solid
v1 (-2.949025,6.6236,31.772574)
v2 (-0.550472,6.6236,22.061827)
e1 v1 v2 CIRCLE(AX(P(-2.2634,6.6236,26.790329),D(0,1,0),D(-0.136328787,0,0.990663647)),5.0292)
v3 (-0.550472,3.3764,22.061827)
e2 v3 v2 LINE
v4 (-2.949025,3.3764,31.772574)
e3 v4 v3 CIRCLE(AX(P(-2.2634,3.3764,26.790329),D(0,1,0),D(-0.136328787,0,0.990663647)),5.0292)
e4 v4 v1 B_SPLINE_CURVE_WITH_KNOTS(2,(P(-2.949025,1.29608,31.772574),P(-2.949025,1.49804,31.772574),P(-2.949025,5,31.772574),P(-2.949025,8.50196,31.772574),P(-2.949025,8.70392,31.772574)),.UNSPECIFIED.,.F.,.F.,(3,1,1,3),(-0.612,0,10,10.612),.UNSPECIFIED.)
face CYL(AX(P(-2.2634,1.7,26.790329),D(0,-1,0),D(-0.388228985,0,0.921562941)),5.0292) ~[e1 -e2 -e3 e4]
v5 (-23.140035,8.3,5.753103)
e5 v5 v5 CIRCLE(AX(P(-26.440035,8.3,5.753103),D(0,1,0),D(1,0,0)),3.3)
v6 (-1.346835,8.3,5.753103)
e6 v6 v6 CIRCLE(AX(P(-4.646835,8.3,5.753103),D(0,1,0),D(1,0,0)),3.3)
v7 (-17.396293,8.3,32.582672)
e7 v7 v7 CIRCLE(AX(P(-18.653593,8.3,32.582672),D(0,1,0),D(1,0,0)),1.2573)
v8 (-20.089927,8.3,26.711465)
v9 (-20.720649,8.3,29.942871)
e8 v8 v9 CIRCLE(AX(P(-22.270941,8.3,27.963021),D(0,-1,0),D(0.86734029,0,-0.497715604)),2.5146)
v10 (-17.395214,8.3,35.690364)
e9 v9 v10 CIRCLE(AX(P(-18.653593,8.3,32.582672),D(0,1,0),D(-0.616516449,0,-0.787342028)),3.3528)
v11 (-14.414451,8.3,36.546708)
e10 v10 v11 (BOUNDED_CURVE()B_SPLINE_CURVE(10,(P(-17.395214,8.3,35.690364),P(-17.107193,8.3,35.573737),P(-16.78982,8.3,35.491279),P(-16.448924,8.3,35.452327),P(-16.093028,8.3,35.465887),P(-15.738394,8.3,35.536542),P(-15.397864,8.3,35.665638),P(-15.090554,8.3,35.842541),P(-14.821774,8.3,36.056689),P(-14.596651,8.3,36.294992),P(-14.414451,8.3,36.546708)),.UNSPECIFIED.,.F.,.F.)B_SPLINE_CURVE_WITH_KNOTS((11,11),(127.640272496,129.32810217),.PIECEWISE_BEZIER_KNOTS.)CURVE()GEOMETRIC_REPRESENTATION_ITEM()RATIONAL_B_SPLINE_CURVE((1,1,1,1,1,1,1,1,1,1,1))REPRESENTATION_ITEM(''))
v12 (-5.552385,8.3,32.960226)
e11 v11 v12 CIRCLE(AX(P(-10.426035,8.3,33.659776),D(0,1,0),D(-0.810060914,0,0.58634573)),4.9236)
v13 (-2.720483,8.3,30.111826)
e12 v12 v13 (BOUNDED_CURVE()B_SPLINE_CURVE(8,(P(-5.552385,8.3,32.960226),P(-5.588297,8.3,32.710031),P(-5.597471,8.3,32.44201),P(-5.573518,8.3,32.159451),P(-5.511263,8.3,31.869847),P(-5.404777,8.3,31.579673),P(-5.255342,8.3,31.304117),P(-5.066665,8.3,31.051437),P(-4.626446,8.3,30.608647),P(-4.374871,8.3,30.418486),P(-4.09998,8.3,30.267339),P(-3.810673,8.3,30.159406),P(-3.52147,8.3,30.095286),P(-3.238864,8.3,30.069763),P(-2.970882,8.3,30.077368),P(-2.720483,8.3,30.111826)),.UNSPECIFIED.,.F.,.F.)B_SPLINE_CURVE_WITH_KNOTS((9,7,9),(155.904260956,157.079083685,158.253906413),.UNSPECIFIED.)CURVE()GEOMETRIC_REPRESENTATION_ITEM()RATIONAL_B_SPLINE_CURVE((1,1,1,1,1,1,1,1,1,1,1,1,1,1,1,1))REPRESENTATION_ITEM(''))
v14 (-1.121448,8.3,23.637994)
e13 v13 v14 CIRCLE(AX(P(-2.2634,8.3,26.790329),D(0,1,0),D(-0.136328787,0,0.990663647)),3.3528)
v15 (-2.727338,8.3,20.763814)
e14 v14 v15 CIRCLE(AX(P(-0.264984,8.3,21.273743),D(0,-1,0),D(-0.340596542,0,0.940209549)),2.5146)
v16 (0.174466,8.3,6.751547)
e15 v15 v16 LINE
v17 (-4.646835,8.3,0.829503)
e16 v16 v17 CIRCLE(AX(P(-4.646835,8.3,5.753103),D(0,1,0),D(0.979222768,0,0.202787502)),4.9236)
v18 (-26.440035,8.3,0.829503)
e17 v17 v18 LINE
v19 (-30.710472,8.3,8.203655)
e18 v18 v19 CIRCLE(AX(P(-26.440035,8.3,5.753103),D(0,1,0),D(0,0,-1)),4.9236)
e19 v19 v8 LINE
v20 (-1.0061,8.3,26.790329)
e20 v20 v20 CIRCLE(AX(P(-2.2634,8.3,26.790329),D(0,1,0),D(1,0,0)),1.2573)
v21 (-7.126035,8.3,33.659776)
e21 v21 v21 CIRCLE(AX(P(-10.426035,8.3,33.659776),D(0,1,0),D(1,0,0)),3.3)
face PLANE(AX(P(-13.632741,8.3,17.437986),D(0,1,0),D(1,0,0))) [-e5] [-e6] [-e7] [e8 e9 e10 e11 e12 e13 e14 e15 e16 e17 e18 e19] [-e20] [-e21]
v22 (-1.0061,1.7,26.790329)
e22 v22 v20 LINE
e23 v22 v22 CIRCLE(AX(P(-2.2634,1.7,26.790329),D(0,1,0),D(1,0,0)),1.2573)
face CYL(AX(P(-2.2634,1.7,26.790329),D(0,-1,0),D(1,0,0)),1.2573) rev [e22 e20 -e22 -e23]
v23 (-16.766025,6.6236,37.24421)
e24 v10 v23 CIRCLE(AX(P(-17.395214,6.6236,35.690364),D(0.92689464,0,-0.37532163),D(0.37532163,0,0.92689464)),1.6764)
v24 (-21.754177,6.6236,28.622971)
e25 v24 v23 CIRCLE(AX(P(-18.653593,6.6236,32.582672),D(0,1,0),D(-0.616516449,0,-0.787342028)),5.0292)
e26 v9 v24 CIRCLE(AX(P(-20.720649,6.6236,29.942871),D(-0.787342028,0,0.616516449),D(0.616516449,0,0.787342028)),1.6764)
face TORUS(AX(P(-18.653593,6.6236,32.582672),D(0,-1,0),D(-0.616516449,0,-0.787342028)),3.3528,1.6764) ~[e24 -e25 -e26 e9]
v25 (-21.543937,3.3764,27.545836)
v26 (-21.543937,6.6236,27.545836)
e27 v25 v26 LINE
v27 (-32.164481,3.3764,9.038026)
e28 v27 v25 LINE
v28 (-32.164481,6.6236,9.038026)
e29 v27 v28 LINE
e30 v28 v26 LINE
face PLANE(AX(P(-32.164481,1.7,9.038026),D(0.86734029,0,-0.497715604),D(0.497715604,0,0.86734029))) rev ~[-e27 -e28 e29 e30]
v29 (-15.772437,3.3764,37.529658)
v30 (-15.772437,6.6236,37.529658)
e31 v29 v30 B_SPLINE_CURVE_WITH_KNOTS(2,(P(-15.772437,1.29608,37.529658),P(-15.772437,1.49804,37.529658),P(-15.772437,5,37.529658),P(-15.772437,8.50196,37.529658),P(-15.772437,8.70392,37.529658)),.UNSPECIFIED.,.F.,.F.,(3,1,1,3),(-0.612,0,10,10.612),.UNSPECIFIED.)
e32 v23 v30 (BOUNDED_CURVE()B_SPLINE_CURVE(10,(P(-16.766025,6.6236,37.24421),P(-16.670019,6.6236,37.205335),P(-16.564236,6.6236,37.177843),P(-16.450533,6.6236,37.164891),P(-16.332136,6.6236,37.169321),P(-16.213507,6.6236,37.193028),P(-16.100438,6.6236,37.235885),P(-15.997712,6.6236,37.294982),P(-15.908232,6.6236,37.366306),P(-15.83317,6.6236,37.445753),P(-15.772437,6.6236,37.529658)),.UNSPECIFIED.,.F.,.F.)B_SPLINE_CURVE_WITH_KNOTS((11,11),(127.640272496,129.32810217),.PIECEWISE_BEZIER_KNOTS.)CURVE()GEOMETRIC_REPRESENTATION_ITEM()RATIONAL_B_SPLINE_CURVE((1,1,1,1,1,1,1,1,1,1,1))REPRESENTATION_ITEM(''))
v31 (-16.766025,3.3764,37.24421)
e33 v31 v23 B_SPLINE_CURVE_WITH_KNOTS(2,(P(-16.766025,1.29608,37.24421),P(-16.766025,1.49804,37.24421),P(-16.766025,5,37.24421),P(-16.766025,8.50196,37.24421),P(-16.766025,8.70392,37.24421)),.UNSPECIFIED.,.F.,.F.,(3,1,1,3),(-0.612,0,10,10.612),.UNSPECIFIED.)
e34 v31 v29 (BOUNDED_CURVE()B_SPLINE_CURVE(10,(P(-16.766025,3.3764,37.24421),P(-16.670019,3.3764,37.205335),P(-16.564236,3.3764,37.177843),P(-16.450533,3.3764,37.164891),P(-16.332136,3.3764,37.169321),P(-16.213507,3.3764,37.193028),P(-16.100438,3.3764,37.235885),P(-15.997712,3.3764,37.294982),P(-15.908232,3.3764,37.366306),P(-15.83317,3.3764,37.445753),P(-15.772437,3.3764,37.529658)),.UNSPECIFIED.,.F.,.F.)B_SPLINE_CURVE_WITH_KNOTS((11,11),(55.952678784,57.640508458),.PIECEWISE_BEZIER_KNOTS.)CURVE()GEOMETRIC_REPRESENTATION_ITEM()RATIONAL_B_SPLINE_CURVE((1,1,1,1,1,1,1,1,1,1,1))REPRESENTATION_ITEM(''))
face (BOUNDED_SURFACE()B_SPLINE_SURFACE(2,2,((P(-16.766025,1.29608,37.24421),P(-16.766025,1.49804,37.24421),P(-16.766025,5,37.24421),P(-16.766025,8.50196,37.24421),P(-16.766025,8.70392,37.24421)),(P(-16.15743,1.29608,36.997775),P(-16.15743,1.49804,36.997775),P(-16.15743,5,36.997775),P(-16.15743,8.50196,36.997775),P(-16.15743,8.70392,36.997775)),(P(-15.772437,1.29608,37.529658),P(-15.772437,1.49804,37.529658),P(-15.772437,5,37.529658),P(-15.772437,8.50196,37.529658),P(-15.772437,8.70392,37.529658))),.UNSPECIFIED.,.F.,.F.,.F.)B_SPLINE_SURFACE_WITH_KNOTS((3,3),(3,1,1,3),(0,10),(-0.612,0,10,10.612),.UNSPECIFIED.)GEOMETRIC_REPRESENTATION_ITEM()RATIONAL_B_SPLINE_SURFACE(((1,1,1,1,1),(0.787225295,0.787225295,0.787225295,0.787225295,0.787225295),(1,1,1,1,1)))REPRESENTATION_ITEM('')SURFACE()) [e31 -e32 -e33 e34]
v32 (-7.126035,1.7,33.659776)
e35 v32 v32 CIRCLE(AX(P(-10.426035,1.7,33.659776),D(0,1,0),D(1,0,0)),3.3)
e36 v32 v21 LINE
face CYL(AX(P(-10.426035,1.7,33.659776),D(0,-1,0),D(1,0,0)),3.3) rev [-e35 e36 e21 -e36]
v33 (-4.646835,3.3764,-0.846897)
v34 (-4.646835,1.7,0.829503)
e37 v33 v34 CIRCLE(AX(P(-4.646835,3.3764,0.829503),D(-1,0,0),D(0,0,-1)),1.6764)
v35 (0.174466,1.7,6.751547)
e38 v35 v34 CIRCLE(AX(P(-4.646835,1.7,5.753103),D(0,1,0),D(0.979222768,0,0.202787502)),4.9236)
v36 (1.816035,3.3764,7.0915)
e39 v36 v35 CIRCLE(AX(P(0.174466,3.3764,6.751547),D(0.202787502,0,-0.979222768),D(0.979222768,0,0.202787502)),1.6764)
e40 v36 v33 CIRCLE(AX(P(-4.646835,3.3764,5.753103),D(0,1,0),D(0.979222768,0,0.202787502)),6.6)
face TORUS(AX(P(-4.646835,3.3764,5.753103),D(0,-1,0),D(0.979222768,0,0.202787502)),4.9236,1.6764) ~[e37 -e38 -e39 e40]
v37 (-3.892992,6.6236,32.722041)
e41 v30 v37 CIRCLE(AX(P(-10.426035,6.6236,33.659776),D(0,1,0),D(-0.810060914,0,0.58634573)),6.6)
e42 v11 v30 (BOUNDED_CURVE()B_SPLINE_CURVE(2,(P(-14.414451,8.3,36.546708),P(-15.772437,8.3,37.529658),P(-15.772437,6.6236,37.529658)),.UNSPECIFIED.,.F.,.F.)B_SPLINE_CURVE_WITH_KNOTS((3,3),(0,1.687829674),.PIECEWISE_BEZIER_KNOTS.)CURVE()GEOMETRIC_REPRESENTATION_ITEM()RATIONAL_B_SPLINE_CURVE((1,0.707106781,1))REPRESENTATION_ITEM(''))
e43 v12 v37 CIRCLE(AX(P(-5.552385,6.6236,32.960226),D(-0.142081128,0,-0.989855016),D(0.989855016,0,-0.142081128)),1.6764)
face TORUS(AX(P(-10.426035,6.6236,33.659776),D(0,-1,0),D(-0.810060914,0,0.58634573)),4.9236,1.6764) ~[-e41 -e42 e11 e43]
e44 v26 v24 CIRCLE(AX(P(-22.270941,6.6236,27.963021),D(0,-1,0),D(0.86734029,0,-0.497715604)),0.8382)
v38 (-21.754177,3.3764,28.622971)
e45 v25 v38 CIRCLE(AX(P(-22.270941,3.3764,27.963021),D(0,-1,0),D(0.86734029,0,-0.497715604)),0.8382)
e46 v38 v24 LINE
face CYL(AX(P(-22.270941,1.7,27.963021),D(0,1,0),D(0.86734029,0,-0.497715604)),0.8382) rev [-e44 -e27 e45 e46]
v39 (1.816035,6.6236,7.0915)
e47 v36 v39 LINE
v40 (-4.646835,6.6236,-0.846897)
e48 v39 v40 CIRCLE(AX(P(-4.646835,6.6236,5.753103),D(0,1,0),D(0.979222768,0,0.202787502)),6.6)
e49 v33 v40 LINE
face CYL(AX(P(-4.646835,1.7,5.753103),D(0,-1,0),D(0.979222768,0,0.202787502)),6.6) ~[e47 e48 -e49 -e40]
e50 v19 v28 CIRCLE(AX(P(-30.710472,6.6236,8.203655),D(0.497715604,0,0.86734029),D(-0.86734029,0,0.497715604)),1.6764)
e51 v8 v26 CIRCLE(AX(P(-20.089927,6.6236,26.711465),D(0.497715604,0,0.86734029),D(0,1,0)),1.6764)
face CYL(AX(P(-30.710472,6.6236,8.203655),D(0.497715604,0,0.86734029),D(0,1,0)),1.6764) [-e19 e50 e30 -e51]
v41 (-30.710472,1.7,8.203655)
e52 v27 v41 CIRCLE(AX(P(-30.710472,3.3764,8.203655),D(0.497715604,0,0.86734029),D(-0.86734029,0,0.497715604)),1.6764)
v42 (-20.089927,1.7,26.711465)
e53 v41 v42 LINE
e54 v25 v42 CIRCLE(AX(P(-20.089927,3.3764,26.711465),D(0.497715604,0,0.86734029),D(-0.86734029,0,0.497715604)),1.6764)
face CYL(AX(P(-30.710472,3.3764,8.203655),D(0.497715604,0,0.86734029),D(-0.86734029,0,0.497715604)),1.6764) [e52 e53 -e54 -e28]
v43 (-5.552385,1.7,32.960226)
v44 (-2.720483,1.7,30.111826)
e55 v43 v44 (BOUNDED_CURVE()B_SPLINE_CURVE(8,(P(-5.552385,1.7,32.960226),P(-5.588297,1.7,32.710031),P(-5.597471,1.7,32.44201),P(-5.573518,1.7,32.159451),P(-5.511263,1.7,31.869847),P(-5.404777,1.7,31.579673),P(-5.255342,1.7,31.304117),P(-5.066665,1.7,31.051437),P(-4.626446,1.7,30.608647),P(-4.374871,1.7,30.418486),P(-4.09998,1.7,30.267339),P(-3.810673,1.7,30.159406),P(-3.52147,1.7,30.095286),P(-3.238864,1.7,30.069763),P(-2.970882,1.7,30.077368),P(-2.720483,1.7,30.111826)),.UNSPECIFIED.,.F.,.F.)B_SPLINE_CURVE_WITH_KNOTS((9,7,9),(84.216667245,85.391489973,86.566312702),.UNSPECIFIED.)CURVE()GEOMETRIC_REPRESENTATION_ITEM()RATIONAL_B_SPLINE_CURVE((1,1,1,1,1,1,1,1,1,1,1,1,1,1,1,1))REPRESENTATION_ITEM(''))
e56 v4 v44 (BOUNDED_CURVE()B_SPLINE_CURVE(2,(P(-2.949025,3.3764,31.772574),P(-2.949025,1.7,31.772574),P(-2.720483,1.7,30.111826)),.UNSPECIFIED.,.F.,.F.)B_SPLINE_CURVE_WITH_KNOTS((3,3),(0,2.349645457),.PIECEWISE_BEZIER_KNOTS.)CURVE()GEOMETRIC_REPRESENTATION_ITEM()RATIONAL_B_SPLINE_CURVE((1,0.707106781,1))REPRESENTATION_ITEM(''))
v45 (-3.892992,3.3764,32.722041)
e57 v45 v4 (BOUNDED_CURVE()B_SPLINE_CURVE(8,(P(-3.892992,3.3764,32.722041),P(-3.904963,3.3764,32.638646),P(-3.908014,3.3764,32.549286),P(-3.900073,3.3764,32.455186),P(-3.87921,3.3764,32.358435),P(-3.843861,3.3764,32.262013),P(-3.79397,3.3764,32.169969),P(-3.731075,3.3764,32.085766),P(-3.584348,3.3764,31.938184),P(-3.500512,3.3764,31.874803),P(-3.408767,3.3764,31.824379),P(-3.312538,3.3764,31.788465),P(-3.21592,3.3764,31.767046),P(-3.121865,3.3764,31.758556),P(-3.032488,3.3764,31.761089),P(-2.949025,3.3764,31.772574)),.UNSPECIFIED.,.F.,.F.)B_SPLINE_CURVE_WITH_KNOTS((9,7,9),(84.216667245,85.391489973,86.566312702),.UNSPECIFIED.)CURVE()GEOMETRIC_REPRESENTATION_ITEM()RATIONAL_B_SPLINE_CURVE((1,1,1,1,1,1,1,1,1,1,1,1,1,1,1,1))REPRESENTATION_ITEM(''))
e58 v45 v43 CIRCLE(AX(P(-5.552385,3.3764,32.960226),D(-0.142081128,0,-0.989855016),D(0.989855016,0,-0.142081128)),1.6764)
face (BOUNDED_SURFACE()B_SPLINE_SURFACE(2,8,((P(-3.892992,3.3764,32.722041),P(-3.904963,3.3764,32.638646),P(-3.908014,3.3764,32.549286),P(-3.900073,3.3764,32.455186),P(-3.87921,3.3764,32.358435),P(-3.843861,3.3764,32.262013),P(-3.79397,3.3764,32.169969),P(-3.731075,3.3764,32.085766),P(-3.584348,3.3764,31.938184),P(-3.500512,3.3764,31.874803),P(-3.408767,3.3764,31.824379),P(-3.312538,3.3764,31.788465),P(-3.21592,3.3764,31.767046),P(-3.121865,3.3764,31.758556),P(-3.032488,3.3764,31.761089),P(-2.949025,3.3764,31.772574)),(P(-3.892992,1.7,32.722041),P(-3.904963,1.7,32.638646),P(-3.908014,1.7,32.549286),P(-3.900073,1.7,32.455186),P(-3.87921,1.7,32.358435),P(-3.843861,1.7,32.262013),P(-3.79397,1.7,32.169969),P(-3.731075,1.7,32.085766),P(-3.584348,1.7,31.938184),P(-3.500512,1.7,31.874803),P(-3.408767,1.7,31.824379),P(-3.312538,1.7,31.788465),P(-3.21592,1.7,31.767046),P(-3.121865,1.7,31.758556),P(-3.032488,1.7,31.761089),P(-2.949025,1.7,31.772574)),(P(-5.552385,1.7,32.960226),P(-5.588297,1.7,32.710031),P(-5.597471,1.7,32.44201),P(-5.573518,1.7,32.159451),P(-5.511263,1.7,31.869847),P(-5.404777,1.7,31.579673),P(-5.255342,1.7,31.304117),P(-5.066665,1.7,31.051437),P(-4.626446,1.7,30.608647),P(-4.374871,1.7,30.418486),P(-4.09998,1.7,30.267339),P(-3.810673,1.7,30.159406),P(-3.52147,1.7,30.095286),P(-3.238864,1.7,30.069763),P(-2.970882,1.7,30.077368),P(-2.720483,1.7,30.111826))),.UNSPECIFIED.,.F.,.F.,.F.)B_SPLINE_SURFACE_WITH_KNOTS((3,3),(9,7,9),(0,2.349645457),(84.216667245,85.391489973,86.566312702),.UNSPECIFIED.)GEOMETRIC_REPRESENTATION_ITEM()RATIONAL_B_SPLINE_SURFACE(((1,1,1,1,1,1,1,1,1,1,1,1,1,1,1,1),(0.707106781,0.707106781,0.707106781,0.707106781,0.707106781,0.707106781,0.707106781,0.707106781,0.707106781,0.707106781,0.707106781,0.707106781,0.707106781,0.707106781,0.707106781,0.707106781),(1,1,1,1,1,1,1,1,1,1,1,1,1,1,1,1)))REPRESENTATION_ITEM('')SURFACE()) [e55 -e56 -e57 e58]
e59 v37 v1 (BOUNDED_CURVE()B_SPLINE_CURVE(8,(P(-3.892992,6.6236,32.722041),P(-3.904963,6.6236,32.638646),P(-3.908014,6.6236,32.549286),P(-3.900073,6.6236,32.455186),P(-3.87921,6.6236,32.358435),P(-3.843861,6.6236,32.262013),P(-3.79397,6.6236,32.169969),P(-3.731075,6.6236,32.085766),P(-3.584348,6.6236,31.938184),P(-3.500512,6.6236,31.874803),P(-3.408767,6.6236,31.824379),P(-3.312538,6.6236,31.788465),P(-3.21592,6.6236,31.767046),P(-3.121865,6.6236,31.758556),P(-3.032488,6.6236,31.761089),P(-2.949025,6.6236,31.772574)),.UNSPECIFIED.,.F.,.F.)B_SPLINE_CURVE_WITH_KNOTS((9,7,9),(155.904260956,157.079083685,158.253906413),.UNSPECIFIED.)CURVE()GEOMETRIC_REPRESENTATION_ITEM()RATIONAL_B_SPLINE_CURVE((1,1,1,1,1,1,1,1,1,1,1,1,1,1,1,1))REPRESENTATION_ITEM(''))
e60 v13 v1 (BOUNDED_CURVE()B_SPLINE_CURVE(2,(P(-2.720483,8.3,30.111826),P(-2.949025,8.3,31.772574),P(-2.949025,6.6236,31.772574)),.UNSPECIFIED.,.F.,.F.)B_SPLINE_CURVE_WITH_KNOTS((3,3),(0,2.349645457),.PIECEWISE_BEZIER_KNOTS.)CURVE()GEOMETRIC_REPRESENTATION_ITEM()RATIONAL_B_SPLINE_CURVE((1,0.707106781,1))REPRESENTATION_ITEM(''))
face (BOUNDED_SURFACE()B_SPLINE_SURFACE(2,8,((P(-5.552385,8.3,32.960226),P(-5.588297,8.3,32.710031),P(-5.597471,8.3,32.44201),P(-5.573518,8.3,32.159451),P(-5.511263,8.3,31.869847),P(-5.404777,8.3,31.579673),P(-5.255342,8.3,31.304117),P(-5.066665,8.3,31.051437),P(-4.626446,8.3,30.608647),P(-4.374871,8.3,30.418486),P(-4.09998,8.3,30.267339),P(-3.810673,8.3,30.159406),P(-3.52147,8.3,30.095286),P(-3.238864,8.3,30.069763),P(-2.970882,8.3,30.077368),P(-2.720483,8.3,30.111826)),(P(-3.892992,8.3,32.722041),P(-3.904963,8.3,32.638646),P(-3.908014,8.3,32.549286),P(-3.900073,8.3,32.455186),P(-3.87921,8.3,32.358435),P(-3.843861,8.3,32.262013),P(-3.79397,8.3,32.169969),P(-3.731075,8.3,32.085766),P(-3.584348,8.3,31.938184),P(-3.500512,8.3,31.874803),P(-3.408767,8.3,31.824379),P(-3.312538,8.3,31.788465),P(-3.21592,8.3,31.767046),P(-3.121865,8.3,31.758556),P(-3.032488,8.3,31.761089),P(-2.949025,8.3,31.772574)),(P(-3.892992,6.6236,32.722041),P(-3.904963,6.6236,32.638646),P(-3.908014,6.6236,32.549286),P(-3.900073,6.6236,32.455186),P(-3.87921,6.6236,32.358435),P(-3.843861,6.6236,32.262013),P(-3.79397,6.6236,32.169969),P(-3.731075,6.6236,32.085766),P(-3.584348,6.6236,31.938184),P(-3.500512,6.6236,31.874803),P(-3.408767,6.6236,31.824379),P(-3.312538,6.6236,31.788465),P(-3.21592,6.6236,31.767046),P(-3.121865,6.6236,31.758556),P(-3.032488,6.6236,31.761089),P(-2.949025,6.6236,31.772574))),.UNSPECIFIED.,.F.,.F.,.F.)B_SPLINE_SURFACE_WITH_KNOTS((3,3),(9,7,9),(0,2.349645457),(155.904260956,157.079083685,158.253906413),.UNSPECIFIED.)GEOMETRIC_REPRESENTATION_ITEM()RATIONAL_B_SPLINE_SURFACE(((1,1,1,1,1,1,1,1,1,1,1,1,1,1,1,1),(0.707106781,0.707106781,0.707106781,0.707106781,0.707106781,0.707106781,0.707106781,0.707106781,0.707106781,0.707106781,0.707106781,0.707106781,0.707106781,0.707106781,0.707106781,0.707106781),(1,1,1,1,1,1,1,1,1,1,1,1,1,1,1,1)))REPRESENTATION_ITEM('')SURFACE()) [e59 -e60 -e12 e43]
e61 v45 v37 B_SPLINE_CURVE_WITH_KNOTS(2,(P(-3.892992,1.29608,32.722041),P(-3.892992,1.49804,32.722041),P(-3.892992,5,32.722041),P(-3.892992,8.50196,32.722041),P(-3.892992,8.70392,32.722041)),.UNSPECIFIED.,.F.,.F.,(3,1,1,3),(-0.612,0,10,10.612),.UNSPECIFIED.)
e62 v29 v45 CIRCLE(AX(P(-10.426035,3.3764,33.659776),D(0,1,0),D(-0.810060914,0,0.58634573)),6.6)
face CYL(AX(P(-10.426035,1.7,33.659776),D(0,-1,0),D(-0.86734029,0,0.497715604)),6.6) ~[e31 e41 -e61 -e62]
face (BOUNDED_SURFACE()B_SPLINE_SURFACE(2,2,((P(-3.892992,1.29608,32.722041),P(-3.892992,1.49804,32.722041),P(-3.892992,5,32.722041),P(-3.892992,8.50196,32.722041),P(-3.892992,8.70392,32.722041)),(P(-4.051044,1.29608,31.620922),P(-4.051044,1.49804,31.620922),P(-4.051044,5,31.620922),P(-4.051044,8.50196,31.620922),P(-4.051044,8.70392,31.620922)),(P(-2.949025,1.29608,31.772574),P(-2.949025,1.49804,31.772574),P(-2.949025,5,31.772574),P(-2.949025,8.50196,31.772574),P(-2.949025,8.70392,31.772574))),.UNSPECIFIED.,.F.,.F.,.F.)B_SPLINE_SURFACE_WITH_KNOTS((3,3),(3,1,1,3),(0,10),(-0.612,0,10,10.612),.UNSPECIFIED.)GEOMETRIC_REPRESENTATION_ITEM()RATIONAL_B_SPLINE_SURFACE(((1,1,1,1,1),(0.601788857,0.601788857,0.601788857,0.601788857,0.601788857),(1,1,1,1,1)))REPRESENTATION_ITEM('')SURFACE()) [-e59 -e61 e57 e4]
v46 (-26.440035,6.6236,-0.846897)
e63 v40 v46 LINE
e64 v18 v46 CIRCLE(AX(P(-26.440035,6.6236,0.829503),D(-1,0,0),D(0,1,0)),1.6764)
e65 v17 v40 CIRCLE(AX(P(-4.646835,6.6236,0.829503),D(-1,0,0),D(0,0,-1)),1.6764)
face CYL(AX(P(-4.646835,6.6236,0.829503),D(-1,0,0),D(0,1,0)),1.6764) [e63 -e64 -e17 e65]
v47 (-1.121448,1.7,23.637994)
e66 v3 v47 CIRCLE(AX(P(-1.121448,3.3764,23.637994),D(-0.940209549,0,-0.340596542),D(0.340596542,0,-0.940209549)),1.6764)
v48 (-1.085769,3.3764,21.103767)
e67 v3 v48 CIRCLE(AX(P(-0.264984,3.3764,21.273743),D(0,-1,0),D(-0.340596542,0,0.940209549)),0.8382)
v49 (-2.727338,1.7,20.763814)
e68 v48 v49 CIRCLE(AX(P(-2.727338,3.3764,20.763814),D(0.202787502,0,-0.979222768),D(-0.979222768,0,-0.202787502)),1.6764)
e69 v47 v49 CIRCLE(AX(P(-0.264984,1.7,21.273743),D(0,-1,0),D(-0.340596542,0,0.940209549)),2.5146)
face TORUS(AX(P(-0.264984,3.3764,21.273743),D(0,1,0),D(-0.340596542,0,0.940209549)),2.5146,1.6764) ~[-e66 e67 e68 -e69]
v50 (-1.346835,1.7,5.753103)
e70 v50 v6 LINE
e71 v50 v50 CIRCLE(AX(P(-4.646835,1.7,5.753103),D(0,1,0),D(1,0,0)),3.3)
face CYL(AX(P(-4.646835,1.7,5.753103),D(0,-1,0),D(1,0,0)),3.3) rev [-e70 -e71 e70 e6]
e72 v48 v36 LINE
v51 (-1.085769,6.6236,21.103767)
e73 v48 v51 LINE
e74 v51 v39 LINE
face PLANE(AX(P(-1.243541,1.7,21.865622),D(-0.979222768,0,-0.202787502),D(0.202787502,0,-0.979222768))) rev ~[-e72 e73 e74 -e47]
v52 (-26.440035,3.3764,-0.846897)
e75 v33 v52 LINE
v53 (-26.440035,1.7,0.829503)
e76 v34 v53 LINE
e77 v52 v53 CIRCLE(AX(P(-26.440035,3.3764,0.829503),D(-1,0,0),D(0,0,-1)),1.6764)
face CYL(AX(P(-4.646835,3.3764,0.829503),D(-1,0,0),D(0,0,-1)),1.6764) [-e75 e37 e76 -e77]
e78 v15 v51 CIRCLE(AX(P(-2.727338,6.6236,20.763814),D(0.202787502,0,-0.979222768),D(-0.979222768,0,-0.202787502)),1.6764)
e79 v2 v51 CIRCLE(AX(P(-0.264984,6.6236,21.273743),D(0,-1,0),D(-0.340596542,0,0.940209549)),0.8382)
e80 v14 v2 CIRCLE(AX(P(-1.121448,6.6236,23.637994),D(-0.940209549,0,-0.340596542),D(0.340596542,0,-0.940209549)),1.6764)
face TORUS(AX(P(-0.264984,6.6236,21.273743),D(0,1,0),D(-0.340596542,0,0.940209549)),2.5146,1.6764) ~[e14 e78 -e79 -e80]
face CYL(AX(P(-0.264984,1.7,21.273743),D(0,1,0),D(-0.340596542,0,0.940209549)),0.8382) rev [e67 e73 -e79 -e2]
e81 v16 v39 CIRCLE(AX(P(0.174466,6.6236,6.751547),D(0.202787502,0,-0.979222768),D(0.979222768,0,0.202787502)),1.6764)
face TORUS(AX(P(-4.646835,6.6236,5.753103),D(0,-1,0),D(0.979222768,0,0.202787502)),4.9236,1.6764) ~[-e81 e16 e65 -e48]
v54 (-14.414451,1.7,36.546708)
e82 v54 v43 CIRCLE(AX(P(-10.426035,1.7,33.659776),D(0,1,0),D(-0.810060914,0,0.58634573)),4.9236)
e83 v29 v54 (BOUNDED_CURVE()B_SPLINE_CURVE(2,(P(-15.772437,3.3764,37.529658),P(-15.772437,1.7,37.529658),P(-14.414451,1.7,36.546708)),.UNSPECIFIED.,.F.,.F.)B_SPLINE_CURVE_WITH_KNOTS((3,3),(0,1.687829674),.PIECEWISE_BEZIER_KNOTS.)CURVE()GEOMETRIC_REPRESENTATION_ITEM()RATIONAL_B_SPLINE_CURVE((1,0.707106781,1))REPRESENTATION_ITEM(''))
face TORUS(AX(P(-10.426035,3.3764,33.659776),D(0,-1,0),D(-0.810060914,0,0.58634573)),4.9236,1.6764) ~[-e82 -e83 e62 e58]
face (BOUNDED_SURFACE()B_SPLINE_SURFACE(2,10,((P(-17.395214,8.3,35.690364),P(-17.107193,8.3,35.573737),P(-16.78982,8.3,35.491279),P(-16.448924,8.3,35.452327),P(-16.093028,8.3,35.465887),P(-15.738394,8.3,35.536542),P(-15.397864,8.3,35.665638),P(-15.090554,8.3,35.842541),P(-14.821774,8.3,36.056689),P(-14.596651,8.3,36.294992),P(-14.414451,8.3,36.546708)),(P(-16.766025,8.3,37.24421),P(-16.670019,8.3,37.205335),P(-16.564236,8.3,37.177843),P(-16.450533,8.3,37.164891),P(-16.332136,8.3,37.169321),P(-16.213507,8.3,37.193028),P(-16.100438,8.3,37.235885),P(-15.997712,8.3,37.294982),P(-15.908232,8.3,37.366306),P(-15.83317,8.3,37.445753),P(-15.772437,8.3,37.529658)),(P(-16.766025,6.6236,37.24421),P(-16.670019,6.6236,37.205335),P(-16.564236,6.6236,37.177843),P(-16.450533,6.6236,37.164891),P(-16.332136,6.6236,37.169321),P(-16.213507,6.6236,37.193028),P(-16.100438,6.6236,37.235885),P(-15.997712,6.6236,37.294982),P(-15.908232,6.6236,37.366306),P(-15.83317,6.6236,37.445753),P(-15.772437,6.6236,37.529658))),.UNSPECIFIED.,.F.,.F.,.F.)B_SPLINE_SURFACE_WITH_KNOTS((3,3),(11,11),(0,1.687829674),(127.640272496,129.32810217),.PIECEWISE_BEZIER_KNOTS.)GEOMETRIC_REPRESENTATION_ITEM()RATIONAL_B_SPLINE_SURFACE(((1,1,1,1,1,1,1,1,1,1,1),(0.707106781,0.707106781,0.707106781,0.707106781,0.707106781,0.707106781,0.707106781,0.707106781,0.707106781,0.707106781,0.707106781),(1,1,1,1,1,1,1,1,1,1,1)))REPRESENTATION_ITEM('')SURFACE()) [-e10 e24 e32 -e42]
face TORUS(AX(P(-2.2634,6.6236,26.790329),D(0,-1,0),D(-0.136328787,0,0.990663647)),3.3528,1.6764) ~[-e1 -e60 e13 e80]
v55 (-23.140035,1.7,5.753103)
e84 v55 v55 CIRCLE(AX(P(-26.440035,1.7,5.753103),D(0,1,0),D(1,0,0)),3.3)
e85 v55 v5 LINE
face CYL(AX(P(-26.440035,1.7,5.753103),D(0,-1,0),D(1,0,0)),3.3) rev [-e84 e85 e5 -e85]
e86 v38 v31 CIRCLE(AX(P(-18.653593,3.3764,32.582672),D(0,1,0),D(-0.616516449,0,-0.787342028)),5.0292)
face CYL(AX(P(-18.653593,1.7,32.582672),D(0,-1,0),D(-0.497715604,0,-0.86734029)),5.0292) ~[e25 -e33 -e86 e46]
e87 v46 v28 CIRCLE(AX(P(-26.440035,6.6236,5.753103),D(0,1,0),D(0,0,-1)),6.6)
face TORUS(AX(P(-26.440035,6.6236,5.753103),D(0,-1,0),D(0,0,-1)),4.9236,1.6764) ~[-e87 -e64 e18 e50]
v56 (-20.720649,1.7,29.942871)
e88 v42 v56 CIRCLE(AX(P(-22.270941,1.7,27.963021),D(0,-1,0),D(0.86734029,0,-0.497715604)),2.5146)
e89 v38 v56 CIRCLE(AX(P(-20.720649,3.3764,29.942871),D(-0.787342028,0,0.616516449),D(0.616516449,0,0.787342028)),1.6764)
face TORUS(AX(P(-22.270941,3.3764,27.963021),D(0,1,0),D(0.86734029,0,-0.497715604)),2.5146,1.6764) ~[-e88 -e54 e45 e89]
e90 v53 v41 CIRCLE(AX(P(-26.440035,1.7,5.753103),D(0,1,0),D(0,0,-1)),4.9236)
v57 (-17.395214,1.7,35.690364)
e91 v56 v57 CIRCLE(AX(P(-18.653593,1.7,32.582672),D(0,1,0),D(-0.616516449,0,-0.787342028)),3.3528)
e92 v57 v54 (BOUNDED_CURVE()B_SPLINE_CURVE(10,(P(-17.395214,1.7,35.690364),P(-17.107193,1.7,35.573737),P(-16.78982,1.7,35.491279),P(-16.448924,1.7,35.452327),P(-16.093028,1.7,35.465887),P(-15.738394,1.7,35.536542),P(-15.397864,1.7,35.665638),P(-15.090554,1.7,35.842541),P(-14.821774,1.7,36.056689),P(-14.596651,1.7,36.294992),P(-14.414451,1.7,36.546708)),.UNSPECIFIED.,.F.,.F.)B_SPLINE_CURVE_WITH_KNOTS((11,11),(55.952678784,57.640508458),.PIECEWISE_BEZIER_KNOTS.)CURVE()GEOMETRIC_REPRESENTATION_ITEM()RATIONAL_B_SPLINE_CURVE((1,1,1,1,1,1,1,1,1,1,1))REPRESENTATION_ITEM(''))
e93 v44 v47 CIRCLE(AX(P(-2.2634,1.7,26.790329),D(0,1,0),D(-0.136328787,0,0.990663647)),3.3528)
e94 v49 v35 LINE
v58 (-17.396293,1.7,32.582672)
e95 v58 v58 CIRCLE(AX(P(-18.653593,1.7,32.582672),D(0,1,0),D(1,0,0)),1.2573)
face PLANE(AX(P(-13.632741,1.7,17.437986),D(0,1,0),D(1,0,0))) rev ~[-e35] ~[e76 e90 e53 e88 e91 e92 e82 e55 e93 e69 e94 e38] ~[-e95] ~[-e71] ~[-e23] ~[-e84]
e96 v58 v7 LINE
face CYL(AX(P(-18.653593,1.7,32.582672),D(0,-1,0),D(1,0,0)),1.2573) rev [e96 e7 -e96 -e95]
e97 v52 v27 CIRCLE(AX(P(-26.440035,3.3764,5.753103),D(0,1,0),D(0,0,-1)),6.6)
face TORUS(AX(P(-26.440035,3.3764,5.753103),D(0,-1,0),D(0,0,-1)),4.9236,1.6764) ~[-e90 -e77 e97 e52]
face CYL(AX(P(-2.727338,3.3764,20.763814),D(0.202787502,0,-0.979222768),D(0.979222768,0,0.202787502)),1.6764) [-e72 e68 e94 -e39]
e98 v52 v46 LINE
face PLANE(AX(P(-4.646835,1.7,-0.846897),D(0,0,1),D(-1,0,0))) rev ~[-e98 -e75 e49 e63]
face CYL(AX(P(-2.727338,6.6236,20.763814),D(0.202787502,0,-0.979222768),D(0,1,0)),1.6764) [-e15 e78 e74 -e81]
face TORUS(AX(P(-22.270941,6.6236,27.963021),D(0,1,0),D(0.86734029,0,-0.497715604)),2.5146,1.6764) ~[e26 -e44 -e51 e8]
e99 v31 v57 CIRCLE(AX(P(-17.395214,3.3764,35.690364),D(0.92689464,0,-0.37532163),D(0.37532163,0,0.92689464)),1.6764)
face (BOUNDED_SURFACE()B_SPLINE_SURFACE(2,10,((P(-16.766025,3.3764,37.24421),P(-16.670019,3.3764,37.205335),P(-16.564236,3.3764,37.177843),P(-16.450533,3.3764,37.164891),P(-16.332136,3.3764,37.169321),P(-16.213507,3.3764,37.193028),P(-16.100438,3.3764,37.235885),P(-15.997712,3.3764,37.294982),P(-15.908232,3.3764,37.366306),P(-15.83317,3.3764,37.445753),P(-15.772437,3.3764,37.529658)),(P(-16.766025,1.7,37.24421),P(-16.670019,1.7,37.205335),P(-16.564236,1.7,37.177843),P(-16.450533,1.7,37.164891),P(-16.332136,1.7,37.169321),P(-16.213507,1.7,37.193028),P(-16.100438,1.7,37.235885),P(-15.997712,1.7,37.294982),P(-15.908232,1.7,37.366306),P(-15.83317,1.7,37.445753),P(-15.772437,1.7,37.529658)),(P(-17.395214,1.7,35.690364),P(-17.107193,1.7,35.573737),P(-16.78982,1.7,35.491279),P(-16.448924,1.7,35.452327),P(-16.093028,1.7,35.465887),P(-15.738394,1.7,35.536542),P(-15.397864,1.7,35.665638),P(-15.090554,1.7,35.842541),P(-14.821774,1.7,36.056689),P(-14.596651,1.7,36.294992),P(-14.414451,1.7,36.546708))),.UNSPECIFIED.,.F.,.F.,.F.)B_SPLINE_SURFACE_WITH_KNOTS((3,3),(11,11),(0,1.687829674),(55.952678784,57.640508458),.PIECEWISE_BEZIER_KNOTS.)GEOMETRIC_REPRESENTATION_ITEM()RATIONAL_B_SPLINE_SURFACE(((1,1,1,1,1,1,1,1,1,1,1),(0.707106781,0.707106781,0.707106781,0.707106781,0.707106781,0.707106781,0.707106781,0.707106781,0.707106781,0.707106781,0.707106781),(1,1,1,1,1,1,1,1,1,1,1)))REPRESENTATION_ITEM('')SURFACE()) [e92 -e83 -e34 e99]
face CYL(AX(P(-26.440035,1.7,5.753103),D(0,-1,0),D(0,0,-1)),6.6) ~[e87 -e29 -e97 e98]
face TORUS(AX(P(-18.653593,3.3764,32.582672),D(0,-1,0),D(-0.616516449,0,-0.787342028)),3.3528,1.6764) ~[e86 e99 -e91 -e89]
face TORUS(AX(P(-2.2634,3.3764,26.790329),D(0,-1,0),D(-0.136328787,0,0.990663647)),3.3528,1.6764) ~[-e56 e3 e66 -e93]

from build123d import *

# Parameters (mm, degrees)
SKETCH1_R           = 5
SKETCH1_R_2         = 1.905
BOSS_EXTRUDE1_DEPTH = 10
FILLET2_R           = 1.27
FILLET1_R           = 2.54
SCALE1_SCALE        = 0.66


with BuildPart() as part:
    # Sketch1 → Boss-Extrude1 (new body)
    with BuildSketch(Plane(origin=(0, 0, 0), x_dir=(1, 0, 0), z_dir=(0, 1, 0))):
        with BuildLine():
            Line((-41.693402896, -4.977156036), (-25.014953019, -34.04172914))
            ThreePointArc((-25.014953019, -34.04172914), (-27.831493127, -44.443455046), (-17.42976722, -47.259995153))
            ThreePointArc((-17.42976722, -47.259995153), (-4.558655696, -51.359140251), (0.652959758, -38.896894596))
            ThreePointArc((0.652959758, -38.896894596), (10.887641345, -34.13704865), (5.156505389, -24.412907491))
            Line((5.156505389, -24.412907491), (9.792227679, -2.027875017))
            ThreePointArc((9.792227679, -2.027875017), (7.754958097, 6.313527137), (0, 10))
            Line((0, 10), (-33.02, 10))
            ThreePointArc((-33.02, 10), (-41.673657041, 5.011408966), (-41.693402896, -4.977156036))
        make_face()
        with Locations((-33.02, 0)):
            Circle(SKETCH1_R, mode=Mode.SUBTRACT)
        Circle(SKETCH1_R, mode=Mode.SUBTRACT)
        with Locations((-8.756364325, -42.282839117)):
            Circle(SKETCH1_R, mode=Mode.SUBTRACT)
        with Locations((-21.22236012, -40.650862147)):
            Circle(SKETCH1_R_2, mode=Mode.SUBTRACT)
        with Locations((3.611264626, -31.874584982)):
            Circle(SKETCH1_R_2, mode=Mode.SUBTRACT)
    extrude(amount=BOSS_EXTRUDE1_DEPTH)

    # Fillet2
    fillet2_edges = [part.edges().sort_by_distance(p)[0] for p in [
        (5.156505389, 5, 24.412907491),
        (0.652959758, 5, 38.896894596),
        (-17.42976722, 5, 47.259995153),
        (-25.014953019, 5, 34.04172914),
    ]]
    fillet(fillet2_edges, radius=FILLET2_R)

    # Fillet1
    fillet1_edges = [part.edges().sort_by_distance(p)[0] for p in [
        (-33.647536039, 0, 18.998224371),
        (-41.673657041, 0, -5.011408966),
        (7.754958097, 10, -6.313527137),
        (-16.51, 10, -10),
        (-41.673657041, 10, -5.011408966),
        (7.593891323, 0, 12.643228492),
        (7.593891323, 10, 12.643228492),
        (11.008943171, 0, 33.70181024),
        (11.008943171, 10, 33.70181024),
        (-5.004925911, 0, 51.552505229),
        (-5.004925911, 10, 51.552505229),
        (-27.817933745, 0, 44.466986955),
        (-27.817933745, 10, 44.466986955),
        (5.530485293, 0, 24.135575816),
        (5.530485293, 10, 24.135575816),
        (1.498671614, 0, 39.786171251),
        (1.498671614, 10, 39.786171251),
        (-17.535076824, 0, 47.670329533),
        (-17.535076824, 10, 47.670329533),
        (-25.456713049, 0, 33.89468526),
        (-25.456713049, 10, 33.89468526),
        (-33.647536039, 10, 18.998224371),
        (-16.51, 0, -10),
        (7.754958097, 0, -6.313527137),
    ]]
    fillet(fillet1_edges, radius=FILLET1_R)


with BuildPart() as part_1:
    # Scale1: scaled about (-13.667161436, 5, 16.92089014)
    add(part.part.scale(SCALE1_SCALE).moved(Location((-4.646834888, 1.7, 5.753102648))))


solid = part_1.part
